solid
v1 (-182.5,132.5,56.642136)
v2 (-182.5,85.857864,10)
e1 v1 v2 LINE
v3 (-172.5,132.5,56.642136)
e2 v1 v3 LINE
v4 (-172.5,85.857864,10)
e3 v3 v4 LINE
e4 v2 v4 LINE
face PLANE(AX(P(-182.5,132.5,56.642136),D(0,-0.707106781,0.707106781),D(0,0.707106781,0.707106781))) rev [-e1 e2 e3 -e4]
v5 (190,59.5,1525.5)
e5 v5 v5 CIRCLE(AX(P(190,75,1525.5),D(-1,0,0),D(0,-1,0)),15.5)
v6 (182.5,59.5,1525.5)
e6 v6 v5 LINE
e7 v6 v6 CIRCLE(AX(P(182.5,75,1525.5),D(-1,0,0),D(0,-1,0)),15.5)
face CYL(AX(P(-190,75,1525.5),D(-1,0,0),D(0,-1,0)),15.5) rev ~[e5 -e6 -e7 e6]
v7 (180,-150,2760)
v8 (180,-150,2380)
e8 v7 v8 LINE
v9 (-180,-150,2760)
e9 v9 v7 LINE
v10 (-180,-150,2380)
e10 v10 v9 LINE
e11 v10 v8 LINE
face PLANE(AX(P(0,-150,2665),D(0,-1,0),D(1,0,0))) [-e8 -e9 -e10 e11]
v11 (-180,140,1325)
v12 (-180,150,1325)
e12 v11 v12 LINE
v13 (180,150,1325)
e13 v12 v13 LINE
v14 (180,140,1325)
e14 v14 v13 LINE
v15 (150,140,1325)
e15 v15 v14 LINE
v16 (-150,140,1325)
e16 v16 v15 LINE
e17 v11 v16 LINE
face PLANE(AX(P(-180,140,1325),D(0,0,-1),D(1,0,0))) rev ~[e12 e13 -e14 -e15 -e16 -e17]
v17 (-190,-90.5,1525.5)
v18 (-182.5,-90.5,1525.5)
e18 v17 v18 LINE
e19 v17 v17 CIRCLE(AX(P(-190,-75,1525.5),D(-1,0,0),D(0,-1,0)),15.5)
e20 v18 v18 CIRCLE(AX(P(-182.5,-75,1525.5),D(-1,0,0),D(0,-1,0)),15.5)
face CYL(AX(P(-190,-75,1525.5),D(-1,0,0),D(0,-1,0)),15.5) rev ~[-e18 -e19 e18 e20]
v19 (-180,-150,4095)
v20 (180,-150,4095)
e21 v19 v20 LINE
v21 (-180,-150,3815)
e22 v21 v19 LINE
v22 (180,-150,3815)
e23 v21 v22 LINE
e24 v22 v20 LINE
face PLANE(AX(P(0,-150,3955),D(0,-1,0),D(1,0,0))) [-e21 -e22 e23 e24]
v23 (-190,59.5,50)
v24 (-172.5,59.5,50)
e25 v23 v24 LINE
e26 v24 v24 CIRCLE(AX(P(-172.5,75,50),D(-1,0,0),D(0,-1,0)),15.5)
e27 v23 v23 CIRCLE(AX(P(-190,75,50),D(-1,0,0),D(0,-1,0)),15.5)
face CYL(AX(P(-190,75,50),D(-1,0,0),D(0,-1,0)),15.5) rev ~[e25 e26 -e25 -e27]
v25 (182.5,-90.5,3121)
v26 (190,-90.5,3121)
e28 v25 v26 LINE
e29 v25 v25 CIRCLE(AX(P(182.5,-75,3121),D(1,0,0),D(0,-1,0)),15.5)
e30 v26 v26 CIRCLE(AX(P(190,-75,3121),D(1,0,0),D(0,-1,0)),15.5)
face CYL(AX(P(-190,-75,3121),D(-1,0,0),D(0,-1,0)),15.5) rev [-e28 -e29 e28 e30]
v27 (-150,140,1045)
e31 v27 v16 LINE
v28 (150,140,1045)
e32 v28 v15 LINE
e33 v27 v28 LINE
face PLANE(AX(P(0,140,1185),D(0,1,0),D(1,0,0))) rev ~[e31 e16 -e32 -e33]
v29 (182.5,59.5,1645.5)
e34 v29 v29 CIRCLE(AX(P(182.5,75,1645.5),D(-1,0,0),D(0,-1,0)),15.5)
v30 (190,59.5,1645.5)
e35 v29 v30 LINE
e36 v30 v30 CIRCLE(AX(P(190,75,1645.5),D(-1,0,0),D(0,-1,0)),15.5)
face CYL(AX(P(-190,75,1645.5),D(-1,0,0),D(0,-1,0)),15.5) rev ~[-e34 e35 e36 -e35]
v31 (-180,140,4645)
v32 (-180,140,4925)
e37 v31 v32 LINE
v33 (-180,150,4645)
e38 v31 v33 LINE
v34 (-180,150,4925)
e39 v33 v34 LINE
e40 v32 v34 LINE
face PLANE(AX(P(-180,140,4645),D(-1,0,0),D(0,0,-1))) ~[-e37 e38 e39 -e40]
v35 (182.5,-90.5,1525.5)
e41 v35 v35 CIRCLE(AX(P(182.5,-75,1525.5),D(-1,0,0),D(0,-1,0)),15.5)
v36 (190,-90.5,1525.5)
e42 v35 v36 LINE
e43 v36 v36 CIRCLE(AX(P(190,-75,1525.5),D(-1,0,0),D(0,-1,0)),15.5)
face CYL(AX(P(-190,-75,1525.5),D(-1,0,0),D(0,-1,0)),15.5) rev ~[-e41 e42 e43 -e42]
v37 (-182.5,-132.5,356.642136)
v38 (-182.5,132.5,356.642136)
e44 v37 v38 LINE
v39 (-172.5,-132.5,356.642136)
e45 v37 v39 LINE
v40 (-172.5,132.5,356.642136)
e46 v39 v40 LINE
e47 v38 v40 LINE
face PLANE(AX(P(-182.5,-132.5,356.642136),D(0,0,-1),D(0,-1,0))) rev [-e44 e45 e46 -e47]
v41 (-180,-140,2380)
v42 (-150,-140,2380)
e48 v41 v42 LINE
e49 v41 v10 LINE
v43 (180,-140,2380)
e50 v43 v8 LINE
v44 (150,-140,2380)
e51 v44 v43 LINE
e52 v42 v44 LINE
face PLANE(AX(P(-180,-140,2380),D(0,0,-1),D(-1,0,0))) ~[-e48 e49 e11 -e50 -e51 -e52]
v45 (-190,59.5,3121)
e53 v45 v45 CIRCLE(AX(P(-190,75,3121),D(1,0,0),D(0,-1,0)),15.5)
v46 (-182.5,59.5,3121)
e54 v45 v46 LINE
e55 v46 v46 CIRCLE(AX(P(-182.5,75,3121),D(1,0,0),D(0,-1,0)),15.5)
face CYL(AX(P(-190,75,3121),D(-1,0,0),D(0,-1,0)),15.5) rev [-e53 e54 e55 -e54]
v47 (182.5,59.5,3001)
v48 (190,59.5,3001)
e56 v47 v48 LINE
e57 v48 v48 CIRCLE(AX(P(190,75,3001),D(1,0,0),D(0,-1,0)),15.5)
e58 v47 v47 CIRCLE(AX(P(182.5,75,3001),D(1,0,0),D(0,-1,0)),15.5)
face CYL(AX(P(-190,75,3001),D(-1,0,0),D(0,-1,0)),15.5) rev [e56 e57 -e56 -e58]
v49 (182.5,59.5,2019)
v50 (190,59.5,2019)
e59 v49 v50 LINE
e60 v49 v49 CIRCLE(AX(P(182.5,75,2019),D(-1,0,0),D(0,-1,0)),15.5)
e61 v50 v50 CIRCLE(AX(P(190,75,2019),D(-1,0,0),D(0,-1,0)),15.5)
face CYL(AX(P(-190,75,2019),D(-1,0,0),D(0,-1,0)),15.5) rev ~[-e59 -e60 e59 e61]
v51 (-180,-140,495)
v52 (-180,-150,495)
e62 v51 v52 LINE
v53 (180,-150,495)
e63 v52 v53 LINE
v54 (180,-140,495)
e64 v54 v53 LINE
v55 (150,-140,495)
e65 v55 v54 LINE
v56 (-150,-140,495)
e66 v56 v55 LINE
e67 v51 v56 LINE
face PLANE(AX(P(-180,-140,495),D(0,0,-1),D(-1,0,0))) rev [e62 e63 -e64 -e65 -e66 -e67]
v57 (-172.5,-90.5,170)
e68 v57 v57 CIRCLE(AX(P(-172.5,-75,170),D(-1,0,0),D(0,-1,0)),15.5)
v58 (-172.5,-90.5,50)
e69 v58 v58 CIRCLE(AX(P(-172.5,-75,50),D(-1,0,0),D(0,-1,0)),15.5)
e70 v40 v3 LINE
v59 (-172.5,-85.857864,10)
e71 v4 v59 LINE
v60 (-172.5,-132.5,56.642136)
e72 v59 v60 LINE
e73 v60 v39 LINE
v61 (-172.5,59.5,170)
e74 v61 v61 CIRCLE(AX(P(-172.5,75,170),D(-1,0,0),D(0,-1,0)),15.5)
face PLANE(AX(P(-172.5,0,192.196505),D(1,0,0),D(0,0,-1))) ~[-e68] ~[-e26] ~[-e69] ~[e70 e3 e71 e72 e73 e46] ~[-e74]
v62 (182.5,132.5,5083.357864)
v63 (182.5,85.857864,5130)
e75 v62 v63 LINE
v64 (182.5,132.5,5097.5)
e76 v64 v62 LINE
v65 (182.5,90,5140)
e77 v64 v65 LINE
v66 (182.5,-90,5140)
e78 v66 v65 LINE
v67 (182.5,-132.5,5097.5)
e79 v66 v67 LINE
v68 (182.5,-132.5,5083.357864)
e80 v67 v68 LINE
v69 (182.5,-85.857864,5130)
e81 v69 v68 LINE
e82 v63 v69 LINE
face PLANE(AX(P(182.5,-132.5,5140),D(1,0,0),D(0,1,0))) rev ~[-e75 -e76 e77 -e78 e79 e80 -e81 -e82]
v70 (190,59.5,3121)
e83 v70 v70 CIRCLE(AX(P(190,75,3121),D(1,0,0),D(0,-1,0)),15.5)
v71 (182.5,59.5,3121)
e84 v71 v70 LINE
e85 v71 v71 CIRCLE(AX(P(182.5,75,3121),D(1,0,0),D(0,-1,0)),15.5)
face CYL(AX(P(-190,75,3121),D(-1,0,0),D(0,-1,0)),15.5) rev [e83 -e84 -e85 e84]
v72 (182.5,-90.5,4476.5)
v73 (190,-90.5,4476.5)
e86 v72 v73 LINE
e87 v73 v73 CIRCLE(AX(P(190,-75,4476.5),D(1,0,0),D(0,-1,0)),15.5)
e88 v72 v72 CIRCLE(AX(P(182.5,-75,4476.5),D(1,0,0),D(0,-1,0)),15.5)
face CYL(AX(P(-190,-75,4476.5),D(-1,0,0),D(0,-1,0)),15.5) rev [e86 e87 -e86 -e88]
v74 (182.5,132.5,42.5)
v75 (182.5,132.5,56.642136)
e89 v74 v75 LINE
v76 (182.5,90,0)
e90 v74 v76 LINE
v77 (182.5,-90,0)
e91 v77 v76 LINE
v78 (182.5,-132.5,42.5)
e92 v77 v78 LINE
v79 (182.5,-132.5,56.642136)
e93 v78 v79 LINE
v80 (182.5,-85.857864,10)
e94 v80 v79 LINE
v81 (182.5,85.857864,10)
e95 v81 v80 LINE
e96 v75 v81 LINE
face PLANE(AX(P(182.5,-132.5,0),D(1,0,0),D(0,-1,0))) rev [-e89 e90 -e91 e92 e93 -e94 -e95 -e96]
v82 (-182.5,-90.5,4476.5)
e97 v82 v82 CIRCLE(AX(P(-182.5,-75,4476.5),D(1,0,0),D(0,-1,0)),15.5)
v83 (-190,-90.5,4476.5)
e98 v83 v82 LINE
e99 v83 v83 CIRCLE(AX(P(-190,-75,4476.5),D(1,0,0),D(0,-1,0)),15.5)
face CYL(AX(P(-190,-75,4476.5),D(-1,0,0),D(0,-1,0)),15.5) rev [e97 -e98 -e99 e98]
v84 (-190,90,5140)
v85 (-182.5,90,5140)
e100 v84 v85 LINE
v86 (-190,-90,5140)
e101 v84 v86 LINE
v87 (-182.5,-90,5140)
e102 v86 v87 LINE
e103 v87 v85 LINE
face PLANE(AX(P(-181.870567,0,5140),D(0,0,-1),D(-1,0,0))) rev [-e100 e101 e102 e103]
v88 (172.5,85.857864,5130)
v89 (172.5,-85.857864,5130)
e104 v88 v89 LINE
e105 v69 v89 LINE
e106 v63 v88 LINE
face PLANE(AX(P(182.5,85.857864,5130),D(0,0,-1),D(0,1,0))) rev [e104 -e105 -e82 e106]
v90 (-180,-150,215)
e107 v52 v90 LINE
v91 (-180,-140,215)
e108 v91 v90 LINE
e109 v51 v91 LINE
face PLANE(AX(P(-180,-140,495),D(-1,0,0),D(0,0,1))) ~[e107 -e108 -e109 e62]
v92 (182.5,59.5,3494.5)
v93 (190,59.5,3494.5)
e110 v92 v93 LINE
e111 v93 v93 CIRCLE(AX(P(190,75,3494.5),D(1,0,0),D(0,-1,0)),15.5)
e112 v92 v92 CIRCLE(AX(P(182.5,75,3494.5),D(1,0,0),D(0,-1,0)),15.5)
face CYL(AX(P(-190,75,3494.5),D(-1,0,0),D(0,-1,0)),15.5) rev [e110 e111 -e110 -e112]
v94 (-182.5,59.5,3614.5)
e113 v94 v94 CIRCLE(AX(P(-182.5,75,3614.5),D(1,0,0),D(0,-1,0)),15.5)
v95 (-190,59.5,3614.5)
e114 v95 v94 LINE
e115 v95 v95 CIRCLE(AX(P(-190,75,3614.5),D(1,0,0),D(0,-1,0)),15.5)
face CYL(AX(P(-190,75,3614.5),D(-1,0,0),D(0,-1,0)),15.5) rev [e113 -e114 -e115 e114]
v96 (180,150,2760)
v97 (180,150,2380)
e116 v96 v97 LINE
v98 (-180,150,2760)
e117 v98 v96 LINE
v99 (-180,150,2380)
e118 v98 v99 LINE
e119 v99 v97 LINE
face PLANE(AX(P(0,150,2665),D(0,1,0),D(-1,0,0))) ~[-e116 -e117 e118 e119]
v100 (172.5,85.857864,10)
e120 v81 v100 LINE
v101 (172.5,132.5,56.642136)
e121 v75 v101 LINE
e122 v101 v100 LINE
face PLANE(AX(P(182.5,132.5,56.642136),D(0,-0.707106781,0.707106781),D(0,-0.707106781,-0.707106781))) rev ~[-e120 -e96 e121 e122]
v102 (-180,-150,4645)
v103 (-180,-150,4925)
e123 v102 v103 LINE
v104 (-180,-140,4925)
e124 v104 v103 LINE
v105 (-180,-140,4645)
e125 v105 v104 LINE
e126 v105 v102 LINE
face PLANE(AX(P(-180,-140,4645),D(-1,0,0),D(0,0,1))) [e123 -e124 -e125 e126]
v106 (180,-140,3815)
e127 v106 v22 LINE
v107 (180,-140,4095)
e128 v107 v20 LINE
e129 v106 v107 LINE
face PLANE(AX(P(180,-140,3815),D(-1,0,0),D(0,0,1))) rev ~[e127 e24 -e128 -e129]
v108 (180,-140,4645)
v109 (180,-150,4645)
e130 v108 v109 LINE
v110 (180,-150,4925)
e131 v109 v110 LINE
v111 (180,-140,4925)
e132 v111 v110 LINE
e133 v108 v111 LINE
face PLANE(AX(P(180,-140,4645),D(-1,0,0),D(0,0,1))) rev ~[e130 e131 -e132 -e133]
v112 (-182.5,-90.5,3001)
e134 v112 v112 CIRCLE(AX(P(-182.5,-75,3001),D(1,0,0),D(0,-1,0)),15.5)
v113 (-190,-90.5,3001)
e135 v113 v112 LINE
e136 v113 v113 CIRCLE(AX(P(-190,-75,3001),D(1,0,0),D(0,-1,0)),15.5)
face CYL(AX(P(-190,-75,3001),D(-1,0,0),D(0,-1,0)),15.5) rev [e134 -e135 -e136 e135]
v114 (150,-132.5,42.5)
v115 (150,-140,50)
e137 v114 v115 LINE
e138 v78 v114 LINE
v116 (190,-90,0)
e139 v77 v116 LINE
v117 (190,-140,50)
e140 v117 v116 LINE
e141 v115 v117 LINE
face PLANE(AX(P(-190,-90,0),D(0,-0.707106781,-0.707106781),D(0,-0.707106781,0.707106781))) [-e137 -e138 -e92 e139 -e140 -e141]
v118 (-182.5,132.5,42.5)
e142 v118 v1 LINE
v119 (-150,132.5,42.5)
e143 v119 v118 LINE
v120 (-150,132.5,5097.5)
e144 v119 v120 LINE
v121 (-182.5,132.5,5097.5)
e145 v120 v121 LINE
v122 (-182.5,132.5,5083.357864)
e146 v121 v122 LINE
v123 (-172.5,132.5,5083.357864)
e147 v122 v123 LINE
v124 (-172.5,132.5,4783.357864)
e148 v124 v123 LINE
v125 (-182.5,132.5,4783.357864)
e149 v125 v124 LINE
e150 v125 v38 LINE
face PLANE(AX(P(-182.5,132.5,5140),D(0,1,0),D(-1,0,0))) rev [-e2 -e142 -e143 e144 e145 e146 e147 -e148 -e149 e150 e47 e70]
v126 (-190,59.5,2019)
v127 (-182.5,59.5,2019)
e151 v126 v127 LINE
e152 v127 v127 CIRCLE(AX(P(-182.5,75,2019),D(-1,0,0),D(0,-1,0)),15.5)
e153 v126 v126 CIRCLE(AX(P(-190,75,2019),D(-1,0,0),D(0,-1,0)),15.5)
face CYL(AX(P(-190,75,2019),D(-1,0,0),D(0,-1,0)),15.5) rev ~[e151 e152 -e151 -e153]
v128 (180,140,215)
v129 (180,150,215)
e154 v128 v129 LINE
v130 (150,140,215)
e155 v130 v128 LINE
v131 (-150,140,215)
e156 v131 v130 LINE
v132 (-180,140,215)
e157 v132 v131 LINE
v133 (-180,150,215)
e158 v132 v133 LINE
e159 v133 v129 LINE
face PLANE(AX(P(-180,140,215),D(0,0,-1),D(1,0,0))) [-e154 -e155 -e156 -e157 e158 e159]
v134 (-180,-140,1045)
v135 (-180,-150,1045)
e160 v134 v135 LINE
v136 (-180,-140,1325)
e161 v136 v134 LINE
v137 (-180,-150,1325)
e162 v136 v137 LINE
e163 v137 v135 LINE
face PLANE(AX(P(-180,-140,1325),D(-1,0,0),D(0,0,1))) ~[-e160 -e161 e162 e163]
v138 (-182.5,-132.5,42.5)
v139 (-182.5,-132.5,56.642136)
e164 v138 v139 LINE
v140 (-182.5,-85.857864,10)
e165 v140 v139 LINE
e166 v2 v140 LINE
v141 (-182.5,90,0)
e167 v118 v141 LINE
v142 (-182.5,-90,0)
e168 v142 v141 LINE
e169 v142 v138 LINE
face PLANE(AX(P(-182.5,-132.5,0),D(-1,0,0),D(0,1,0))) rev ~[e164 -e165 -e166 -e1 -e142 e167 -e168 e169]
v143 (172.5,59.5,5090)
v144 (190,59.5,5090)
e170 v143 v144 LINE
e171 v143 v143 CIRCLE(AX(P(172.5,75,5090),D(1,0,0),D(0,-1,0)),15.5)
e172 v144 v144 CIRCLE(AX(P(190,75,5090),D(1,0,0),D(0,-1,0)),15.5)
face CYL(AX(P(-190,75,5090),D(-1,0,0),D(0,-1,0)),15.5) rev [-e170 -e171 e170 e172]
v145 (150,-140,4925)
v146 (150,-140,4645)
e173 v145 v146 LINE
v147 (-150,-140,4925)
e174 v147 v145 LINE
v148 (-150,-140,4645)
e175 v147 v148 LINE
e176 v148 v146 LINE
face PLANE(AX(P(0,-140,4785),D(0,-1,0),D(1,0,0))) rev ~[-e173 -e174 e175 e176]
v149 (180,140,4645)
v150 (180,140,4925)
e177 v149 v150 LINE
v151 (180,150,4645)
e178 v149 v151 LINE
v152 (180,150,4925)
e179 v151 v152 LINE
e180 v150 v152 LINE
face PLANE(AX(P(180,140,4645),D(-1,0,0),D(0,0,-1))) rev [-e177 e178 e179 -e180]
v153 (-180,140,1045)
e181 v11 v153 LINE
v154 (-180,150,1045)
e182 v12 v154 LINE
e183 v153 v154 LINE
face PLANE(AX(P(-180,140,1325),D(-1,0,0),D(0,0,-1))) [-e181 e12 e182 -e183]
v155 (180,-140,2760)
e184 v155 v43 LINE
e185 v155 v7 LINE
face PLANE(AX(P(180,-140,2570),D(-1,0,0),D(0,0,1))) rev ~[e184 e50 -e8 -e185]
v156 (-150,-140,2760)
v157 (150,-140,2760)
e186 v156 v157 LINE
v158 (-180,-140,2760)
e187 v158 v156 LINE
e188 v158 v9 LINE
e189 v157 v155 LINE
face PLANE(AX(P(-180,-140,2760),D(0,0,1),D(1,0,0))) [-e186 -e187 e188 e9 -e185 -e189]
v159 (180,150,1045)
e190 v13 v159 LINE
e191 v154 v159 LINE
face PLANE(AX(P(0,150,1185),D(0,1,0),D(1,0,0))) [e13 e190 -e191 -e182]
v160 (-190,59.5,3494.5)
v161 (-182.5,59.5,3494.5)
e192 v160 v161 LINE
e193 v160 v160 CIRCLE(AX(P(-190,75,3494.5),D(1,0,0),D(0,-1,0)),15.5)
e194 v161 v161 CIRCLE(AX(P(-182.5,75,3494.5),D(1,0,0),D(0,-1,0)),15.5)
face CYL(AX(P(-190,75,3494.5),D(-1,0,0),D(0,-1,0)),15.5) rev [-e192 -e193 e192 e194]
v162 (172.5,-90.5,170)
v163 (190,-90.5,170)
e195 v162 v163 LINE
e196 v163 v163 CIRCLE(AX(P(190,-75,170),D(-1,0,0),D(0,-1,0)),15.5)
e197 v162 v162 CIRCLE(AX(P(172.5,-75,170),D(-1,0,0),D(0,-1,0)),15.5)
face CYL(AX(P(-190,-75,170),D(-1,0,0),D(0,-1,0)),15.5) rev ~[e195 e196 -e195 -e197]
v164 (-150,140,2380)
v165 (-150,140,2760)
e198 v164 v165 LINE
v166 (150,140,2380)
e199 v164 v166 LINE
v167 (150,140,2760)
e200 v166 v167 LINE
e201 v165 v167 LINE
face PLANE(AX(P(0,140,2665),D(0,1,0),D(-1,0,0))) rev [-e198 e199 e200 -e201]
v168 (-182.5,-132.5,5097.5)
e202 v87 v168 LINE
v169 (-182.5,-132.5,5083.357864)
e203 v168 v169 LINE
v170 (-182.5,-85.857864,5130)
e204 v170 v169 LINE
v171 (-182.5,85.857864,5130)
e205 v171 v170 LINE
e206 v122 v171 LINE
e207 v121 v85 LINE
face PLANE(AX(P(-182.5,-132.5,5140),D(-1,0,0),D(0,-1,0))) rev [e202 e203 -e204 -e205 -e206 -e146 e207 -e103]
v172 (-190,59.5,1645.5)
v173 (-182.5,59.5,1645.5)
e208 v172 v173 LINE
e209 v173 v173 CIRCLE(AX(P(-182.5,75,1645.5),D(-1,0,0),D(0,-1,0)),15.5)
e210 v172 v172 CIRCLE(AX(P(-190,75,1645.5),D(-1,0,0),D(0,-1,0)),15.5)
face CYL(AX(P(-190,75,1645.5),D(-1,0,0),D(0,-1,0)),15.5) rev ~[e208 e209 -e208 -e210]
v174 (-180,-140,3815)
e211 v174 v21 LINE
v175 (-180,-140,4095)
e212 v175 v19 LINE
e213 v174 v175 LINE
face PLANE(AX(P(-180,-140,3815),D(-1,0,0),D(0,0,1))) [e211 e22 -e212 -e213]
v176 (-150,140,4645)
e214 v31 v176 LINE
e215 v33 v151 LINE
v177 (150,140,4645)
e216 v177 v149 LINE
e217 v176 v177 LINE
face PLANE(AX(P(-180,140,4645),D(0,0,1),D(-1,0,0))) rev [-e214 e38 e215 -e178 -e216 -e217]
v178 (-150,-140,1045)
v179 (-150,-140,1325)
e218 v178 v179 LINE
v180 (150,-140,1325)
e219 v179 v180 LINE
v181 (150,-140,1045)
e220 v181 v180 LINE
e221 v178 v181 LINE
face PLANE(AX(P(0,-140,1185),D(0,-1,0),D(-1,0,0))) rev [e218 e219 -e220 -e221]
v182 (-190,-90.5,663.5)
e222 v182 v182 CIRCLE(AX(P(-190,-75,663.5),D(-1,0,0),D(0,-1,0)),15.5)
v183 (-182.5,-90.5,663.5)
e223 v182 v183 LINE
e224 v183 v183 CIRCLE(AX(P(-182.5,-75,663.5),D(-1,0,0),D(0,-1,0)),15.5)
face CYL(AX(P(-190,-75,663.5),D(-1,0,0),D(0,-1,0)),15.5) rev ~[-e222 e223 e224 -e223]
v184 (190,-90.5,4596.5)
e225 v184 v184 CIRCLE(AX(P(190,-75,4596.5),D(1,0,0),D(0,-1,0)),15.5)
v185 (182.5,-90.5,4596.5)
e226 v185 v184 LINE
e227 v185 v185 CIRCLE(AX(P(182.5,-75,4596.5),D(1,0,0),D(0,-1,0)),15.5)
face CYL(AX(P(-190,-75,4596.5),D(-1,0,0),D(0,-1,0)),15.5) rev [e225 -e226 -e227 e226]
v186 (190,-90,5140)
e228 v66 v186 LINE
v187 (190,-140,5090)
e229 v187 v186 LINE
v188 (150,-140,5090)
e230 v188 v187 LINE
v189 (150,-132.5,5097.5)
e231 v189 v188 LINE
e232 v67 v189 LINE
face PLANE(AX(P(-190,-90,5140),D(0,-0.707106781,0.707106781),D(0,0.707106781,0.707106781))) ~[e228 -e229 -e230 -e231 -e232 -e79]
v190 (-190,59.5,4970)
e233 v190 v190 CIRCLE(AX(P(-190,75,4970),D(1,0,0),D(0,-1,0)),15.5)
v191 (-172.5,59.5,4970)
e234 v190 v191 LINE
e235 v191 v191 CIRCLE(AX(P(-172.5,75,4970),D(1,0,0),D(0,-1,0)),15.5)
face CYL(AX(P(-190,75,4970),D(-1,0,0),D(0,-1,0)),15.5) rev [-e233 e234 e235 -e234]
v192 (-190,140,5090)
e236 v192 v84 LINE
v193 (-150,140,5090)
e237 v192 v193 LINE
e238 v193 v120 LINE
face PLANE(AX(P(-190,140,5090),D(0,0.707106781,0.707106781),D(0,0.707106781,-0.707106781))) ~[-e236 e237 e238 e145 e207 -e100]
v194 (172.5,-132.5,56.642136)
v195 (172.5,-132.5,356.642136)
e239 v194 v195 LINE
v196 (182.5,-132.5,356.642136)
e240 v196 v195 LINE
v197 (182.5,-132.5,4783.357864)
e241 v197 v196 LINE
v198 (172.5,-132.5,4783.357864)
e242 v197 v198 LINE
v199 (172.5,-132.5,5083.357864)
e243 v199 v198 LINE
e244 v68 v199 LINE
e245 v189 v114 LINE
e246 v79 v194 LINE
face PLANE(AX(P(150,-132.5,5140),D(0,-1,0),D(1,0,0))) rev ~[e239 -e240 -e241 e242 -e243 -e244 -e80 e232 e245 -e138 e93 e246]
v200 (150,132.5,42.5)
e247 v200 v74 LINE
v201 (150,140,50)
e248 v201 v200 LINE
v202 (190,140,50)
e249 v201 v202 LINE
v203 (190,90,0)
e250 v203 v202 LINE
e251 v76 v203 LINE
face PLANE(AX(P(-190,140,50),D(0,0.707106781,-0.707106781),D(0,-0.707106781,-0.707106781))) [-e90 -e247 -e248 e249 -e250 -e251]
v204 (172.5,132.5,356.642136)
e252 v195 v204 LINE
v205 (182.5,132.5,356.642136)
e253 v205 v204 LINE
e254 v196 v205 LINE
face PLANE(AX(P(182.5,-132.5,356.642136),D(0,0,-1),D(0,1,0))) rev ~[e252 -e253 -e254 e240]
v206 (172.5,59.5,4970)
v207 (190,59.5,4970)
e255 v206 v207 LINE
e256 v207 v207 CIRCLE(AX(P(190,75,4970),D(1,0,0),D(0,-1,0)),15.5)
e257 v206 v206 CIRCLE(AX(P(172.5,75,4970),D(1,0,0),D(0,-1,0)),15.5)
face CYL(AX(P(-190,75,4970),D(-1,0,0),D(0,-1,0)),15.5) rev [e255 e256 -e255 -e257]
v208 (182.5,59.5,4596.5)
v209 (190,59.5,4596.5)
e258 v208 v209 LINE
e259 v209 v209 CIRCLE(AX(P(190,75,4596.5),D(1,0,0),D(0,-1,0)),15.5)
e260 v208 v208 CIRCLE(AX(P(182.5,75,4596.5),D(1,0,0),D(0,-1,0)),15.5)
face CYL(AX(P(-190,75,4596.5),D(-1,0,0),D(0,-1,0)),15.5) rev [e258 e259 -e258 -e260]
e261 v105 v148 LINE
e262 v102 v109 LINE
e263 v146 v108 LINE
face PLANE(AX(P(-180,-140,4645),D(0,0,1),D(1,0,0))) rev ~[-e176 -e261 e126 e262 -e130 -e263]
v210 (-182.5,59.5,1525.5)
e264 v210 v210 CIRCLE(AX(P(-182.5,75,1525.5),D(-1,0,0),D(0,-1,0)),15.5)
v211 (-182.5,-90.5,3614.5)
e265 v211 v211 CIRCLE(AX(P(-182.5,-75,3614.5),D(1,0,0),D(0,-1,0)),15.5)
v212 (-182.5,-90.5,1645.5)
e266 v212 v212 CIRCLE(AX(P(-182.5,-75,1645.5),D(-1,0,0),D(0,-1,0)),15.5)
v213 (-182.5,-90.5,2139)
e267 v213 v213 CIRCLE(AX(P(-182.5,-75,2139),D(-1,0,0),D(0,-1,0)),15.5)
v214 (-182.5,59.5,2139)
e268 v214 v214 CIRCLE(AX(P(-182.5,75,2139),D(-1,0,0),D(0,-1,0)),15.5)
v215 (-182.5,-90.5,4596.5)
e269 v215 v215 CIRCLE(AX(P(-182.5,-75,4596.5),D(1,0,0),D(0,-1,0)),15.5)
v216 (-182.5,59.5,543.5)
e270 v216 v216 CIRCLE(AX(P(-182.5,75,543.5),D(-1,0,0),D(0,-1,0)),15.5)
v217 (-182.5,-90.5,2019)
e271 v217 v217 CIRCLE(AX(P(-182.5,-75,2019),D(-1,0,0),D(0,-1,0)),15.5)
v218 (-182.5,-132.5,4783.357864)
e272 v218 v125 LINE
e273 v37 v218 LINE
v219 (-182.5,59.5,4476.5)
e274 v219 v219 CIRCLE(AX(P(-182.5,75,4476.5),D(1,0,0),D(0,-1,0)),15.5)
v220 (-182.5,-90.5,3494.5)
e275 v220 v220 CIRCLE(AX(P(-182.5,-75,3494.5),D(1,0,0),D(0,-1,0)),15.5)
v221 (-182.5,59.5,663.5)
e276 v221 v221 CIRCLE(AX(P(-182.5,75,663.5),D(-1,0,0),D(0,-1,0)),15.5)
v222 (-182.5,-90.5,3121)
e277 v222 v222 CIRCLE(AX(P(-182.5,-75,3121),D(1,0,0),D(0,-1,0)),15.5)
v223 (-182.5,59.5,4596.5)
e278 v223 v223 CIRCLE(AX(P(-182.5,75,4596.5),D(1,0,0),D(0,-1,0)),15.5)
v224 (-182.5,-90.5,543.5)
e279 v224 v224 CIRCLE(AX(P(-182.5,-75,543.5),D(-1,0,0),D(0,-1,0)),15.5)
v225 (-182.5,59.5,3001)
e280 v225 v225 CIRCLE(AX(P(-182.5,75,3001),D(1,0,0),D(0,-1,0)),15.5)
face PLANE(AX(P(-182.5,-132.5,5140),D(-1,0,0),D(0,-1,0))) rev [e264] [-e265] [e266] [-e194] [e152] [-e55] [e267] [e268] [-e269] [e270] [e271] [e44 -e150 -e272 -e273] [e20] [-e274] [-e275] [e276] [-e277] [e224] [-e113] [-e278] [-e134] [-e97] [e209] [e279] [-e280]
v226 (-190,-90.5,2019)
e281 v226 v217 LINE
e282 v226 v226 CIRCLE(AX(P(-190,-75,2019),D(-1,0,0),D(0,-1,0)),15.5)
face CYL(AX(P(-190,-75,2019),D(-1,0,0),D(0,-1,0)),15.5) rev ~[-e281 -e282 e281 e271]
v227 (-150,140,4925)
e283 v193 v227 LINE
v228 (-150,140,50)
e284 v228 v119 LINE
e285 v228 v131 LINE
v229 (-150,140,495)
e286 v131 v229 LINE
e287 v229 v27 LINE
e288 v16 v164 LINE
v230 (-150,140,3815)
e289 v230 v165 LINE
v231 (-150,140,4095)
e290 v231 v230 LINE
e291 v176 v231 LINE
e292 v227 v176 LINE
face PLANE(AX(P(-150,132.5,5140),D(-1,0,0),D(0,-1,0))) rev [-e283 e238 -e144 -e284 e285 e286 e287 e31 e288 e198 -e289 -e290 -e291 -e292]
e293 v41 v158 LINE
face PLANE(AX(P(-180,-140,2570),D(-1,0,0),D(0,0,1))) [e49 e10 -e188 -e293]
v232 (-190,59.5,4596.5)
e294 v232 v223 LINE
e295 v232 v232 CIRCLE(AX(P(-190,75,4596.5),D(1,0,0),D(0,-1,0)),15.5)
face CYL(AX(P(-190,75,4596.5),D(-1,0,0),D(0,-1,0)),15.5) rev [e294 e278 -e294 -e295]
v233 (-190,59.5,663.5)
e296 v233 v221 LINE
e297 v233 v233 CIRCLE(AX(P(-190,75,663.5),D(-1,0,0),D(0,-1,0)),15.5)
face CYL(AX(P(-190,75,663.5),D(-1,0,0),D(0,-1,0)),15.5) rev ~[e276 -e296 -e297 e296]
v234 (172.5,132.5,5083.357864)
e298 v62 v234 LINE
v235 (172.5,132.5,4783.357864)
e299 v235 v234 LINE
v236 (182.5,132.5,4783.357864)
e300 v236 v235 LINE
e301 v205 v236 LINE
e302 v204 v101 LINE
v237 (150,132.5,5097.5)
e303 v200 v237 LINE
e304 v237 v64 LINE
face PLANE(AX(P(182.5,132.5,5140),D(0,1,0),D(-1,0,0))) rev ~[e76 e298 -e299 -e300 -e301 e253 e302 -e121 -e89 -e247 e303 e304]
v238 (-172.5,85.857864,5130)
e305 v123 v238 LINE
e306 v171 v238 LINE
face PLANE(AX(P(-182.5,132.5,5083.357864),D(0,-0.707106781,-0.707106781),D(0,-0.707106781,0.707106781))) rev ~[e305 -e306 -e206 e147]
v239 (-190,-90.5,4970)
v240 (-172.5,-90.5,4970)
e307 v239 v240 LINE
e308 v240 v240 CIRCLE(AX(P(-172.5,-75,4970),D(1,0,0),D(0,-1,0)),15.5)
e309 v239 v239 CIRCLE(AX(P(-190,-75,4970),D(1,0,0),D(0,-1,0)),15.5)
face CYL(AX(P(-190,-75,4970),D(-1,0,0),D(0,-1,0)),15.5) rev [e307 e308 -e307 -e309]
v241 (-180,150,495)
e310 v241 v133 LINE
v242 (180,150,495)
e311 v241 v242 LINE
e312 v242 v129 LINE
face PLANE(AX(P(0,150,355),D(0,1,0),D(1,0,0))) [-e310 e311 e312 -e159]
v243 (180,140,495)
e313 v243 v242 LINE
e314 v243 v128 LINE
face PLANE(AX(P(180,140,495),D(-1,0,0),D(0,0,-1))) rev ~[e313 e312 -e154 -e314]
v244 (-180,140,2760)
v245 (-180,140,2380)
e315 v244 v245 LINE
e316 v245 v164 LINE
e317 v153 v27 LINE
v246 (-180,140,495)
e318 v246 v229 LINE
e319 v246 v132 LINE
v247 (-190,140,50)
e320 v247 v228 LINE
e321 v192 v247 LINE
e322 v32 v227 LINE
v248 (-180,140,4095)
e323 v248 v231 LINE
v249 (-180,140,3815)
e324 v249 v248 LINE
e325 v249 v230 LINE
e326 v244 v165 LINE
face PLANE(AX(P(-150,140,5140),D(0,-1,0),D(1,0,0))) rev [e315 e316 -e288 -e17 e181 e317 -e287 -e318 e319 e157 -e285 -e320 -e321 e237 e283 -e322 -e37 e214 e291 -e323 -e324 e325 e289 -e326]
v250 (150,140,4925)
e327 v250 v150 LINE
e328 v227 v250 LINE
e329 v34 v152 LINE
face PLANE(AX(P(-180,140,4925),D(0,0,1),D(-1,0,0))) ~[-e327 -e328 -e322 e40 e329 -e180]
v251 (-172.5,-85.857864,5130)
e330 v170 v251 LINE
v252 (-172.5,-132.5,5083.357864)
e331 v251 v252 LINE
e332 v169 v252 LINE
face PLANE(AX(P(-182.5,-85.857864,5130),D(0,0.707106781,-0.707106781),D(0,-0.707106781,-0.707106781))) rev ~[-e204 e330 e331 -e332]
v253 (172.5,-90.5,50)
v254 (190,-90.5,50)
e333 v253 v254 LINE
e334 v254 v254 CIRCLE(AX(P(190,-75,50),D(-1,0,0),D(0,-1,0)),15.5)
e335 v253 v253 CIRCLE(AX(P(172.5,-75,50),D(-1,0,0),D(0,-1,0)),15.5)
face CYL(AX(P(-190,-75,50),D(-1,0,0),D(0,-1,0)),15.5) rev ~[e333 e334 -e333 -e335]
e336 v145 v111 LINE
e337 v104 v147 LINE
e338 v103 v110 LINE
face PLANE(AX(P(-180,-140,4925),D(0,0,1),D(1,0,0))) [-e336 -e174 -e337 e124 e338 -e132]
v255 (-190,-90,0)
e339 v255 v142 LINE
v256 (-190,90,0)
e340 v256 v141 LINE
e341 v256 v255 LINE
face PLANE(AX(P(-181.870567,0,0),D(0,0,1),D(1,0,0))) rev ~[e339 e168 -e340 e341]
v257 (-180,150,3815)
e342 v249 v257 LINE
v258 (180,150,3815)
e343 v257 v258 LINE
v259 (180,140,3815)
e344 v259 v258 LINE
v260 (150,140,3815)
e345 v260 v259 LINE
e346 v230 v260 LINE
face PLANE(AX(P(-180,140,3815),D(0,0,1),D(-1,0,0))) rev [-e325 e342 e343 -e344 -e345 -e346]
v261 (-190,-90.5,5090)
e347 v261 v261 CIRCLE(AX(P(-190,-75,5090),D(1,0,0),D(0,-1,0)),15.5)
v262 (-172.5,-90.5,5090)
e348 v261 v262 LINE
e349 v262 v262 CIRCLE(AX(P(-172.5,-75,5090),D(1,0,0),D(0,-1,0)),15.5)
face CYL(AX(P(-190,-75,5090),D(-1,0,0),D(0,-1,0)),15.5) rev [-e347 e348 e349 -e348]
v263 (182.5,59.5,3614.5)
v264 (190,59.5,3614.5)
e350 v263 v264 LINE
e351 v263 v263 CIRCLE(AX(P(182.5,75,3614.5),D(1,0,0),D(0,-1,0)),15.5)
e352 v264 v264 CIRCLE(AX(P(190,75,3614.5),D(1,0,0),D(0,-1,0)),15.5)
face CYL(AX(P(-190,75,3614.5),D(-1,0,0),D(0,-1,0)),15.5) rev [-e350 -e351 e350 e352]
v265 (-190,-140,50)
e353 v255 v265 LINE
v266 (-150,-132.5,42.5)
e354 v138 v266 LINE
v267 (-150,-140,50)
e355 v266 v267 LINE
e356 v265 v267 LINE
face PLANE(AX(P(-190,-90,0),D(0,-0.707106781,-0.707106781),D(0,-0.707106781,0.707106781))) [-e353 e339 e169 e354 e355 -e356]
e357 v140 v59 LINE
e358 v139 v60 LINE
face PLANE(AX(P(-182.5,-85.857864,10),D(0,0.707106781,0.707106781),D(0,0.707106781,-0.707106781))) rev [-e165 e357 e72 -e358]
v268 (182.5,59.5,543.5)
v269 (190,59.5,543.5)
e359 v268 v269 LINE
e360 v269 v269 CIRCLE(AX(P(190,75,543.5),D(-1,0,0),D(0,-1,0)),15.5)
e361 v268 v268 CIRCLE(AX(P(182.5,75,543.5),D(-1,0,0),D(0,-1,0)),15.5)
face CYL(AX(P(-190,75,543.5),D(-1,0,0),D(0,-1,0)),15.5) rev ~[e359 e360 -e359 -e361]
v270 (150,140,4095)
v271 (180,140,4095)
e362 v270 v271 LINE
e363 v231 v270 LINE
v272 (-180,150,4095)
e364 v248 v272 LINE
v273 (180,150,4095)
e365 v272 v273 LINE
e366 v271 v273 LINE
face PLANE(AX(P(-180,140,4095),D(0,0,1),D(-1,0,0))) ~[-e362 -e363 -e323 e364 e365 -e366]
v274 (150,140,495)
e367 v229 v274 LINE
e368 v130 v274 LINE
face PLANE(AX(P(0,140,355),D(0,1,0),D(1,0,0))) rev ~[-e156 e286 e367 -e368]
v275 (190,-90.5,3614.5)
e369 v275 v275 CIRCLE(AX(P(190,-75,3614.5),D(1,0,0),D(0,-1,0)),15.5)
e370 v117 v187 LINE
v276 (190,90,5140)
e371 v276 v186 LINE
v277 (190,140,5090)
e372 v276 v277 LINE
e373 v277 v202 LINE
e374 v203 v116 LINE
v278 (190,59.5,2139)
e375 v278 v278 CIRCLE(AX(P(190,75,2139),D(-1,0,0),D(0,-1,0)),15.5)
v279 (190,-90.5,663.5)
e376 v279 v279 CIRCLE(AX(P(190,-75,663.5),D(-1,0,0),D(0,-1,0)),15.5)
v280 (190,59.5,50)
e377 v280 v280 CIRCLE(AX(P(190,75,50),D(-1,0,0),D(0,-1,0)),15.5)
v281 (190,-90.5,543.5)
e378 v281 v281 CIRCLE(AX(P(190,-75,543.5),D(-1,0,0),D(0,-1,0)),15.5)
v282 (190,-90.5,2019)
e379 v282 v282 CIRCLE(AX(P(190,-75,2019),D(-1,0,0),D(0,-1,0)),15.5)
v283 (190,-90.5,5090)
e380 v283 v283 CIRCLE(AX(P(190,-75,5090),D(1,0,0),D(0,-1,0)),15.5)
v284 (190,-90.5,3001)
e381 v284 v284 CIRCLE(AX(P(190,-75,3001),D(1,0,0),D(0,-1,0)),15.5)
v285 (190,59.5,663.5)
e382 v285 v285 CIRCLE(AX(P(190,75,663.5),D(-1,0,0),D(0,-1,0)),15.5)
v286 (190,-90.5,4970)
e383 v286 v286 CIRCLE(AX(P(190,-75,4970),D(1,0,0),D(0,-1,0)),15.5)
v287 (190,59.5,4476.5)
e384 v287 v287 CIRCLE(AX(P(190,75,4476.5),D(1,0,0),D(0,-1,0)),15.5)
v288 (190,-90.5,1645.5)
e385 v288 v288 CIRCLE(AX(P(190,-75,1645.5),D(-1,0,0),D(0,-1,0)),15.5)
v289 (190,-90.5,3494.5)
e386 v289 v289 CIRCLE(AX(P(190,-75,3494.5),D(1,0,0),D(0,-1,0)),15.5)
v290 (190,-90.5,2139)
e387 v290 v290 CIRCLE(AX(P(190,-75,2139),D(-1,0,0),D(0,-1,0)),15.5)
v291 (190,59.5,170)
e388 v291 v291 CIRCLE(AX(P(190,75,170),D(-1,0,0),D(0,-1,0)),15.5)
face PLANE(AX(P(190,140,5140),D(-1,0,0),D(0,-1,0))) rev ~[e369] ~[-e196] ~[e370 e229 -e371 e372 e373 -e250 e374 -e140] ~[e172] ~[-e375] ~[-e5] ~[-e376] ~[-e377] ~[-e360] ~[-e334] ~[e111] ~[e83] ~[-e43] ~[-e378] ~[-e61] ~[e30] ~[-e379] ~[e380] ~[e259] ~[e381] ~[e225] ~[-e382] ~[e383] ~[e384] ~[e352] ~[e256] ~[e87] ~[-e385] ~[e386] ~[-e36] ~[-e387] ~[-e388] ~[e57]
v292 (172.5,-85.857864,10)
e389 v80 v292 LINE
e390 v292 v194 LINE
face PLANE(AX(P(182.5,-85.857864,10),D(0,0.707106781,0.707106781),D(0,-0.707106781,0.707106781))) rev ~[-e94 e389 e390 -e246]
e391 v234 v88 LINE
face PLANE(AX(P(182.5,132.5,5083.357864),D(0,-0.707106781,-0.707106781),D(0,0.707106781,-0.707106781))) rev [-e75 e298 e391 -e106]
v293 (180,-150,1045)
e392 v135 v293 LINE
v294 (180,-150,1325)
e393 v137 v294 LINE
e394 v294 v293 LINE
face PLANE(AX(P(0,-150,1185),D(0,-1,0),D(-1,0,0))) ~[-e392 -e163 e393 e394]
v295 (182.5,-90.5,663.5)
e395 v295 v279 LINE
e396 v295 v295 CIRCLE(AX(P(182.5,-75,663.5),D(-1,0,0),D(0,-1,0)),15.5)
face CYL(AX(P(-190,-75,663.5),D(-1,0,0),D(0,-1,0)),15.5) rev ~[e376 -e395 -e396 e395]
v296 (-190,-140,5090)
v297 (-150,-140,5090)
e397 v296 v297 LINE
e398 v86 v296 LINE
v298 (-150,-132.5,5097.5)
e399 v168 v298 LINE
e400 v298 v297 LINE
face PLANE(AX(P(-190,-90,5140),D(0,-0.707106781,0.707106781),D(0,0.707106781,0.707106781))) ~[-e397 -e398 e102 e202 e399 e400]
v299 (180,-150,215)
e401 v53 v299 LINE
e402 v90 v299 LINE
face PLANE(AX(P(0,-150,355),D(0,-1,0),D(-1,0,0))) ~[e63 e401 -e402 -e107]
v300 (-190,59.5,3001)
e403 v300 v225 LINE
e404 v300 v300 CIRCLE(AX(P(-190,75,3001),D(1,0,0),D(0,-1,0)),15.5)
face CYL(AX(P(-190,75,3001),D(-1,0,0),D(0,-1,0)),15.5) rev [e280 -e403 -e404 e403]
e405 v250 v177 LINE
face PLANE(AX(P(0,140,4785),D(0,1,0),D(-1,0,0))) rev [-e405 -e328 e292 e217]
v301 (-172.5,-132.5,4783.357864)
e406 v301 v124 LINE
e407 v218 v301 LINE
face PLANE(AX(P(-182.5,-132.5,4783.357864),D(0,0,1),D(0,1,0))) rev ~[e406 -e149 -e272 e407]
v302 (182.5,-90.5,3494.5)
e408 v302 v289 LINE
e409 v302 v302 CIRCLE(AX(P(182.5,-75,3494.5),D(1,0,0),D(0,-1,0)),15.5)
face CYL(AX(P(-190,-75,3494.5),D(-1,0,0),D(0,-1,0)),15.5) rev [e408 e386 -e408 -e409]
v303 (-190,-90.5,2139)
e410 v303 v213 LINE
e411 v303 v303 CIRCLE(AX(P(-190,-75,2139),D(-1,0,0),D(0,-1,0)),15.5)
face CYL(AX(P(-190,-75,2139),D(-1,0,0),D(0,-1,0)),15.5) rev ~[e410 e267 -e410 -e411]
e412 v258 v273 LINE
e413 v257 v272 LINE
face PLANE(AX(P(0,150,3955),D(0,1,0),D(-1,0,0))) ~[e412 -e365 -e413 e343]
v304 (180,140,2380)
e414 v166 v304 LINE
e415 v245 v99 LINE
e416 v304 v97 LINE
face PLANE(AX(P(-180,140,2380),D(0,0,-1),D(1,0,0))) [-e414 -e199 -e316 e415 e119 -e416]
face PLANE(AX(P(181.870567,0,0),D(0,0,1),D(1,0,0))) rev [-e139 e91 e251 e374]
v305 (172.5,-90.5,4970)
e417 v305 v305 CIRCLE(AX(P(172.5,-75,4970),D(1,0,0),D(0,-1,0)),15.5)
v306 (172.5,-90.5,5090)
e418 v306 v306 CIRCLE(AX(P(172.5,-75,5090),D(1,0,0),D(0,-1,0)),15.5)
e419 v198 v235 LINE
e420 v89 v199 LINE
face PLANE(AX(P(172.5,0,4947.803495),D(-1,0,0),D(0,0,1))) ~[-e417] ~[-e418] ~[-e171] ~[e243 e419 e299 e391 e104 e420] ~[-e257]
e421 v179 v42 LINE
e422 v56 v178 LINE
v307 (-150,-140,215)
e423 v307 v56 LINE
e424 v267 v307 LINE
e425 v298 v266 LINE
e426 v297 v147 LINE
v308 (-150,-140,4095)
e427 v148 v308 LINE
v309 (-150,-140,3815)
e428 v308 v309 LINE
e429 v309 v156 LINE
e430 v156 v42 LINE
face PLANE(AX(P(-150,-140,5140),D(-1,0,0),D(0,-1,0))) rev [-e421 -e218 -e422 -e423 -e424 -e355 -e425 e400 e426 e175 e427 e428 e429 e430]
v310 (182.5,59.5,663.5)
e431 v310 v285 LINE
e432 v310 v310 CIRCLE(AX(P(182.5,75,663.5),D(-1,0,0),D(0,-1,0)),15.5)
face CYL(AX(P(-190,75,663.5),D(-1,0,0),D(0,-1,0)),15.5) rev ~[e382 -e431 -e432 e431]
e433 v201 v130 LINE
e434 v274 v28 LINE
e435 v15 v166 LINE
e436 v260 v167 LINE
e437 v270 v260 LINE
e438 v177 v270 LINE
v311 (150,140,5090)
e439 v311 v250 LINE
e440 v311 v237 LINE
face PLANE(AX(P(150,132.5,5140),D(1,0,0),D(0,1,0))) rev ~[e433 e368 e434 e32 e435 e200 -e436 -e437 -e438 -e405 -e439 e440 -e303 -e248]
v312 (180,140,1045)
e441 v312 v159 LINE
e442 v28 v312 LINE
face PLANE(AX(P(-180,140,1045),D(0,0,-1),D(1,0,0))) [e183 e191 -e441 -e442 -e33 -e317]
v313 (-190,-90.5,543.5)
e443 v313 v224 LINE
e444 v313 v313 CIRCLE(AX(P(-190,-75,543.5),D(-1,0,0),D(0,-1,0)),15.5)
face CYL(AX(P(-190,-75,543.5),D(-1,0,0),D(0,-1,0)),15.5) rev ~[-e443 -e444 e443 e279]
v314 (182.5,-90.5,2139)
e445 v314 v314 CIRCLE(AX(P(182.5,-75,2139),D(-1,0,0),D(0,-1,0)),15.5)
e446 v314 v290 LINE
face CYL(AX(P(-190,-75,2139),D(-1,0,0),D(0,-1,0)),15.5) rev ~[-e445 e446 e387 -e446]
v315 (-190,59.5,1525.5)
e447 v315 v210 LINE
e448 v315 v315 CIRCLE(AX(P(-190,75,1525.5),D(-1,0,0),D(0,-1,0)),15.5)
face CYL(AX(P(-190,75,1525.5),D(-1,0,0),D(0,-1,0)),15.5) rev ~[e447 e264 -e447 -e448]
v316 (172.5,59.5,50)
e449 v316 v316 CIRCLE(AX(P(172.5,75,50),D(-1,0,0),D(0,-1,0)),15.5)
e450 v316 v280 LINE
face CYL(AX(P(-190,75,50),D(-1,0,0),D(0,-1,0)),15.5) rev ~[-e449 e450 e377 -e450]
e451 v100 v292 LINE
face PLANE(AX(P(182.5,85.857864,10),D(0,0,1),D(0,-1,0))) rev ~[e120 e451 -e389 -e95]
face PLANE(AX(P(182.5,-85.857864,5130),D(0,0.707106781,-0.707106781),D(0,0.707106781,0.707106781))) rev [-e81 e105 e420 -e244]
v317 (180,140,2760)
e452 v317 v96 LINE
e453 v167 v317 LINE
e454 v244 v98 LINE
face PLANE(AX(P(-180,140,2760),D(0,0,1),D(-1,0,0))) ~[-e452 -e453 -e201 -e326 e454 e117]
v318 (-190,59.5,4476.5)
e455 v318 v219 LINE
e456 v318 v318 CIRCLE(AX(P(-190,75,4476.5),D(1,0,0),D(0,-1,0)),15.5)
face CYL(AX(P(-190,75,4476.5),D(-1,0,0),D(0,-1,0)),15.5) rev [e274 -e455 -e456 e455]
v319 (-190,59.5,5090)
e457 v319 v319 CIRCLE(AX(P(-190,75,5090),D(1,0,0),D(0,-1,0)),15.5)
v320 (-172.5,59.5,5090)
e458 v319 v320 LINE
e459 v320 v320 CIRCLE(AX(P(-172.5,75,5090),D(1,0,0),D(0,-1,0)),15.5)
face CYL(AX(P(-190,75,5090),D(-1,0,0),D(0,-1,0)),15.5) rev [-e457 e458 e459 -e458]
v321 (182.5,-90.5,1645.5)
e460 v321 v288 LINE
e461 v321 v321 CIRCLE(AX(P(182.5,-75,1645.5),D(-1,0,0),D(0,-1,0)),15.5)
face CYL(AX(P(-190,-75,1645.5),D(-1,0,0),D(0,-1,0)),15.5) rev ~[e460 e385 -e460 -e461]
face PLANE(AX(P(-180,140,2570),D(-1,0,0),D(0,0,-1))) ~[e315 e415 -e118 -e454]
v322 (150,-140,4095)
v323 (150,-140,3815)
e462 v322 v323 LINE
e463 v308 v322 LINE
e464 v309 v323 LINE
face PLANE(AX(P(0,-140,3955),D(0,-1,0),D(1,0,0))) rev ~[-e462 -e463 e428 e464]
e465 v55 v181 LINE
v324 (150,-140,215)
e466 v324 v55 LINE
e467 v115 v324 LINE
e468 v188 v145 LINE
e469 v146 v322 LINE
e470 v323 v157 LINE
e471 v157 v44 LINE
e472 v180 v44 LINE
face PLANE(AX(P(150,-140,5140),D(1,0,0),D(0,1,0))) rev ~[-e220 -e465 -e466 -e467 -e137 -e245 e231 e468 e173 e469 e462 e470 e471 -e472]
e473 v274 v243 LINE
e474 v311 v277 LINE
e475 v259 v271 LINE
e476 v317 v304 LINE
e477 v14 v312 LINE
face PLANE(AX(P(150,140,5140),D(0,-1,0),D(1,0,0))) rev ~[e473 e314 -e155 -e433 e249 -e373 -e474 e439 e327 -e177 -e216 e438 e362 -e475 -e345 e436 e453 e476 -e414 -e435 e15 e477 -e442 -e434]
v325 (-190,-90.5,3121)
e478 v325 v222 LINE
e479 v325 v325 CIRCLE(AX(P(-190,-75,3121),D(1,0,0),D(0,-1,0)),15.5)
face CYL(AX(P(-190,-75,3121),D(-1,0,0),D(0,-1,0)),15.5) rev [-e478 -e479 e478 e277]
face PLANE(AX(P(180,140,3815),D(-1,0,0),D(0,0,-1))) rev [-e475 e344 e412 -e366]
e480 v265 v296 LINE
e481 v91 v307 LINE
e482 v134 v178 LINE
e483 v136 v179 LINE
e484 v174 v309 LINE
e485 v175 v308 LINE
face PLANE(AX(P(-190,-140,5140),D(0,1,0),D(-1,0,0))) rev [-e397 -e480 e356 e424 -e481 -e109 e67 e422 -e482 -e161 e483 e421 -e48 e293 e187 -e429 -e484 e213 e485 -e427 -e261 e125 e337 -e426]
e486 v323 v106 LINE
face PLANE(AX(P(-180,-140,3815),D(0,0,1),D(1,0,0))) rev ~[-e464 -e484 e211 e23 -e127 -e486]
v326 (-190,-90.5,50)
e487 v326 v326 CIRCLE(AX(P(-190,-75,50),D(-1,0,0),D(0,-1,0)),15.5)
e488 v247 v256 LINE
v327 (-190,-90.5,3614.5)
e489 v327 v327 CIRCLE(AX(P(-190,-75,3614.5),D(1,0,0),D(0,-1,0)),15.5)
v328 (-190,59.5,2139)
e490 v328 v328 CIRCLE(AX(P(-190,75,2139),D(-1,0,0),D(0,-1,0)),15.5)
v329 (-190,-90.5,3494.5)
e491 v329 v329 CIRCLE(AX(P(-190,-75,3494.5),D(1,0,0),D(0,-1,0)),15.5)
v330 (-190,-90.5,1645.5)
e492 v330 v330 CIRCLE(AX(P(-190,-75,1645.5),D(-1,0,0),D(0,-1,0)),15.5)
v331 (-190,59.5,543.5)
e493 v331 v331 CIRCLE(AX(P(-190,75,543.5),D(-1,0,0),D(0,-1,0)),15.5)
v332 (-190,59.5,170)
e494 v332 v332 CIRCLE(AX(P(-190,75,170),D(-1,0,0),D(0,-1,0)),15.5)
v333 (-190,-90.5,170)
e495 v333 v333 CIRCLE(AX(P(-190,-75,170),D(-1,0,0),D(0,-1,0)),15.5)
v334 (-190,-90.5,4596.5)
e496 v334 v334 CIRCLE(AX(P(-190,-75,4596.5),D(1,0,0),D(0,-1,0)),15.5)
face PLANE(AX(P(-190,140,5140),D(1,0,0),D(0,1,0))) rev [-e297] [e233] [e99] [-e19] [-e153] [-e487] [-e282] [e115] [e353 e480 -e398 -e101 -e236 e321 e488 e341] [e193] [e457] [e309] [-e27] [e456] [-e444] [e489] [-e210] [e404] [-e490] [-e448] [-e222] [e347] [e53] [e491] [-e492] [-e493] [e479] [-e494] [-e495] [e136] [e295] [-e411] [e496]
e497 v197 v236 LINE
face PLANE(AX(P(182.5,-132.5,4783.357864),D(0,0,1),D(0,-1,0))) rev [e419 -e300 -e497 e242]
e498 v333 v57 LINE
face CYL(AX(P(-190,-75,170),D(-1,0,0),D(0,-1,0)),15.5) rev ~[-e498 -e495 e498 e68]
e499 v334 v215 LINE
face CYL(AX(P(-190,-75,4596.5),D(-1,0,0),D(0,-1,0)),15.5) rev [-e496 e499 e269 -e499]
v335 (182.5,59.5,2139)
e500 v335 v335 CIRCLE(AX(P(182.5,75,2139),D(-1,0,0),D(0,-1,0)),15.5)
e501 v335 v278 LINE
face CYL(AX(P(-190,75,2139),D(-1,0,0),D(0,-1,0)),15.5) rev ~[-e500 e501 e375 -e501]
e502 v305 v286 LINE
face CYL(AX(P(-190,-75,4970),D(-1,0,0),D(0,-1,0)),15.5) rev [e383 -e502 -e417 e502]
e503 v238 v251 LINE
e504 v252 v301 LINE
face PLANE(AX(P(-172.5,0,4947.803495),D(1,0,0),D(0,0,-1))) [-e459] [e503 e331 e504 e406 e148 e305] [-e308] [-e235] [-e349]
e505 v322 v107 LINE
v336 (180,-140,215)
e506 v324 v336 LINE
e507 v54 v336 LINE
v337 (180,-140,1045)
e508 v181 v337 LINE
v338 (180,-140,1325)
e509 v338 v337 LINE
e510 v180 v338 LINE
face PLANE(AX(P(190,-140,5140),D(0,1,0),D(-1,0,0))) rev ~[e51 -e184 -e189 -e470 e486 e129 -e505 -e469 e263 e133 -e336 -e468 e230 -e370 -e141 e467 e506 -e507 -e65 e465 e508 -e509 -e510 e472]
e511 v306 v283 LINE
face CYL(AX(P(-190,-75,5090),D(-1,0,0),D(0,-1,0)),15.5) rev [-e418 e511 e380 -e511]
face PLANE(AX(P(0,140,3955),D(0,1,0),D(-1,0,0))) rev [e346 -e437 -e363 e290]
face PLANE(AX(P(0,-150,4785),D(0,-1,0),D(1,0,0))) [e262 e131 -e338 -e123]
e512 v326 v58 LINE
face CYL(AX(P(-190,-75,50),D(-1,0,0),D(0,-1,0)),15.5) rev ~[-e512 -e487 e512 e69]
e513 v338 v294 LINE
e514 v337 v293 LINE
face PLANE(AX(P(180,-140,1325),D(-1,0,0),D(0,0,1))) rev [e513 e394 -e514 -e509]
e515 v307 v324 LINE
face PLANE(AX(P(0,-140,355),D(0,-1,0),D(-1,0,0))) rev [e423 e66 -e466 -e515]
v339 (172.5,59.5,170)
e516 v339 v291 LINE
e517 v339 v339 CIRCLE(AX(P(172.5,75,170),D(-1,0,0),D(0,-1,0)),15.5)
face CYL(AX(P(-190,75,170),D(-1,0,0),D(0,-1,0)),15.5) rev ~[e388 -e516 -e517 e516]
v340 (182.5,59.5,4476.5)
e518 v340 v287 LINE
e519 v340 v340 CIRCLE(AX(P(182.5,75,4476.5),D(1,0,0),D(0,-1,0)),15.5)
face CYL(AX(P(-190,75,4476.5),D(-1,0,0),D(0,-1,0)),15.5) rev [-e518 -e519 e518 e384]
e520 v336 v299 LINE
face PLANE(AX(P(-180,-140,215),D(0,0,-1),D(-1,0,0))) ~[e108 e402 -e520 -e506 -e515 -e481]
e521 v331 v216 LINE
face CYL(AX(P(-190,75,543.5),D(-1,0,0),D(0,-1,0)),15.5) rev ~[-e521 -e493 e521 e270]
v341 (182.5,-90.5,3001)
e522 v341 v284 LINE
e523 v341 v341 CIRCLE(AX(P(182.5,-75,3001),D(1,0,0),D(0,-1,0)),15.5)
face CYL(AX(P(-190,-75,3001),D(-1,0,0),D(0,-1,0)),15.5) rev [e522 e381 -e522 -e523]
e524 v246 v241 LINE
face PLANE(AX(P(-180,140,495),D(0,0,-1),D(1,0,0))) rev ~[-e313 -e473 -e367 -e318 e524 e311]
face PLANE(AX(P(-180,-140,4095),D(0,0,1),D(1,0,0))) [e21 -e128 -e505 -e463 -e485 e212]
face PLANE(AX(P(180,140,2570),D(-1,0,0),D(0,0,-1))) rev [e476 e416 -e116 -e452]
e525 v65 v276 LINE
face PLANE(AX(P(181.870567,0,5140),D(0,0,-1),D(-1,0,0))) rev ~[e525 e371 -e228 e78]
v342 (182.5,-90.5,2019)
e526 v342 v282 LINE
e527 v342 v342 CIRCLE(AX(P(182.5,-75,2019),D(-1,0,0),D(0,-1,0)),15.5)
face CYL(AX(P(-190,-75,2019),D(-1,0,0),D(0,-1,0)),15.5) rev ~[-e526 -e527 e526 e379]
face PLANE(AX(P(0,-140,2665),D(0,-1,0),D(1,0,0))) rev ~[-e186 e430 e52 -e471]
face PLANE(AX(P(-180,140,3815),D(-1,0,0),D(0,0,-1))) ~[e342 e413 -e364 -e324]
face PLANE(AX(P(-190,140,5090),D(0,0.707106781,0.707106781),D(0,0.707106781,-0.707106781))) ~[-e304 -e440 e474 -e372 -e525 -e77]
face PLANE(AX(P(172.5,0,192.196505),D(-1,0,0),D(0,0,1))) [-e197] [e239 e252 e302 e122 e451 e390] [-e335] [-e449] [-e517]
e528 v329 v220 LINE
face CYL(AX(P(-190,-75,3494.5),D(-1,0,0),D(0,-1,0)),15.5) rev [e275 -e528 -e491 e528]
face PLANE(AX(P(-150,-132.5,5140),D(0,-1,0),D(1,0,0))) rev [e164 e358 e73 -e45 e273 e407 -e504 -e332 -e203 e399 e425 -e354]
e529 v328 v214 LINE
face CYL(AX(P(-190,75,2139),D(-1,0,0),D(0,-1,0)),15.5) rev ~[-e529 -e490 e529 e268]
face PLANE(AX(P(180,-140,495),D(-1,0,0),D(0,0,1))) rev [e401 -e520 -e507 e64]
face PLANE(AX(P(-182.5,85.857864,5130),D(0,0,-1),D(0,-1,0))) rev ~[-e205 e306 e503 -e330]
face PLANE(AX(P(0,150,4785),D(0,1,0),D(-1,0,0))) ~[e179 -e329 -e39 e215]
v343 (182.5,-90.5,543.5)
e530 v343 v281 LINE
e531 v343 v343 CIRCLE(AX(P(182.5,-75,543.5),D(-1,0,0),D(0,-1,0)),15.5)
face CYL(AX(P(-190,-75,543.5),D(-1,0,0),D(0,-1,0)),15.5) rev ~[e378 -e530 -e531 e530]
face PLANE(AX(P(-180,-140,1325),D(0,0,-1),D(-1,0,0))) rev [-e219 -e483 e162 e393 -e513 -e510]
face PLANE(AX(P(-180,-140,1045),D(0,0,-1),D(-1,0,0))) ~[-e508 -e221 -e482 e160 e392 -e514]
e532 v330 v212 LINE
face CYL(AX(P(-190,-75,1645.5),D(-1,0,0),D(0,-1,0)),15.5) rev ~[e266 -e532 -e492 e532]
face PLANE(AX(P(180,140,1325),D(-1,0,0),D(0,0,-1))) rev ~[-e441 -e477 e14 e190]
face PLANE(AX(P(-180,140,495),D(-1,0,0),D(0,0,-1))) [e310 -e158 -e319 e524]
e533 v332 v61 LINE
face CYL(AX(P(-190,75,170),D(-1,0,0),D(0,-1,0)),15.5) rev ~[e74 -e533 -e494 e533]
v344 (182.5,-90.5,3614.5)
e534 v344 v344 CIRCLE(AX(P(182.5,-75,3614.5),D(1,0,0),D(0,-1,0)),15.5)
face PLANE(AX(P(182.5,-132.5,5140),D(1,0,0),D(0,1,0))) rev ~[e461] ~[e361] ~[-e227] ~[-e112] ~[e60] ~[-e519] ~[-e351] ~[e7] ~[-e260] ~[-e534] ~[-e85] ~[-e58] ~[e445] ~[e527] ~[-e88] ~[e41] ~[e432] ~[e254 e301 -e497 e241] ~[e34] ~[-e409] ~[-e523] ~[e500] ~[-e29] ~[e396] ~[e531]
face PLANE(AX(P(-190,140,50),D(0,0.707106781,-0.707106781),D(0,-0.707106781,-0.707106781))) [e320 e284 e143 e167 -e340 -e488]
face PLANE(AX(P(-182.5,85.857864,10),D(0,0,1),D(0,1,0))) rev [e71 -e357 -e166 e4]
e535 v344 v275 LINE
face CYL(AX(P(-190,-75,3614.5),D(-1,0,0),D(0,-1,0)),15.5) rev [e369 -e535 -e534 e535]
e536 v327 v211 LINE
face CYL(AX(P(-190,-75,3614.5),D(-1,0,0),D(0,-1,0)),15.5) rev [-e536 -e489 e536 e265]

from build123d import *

# Parameters (mm, degrees)
EXTRUDE_1_DEPTH     = 2570
SKETCH_2_W          = 360
SKETCH_2_H          = 280
SKETCH_2_H_2        = 190
EXTRUDE_2_DEPTH     = 10
SKETCH_5_R          = 15.5
CUT_EXTRUDE_3_DEPTH = 2603.268241362
EXTRUDE_8_DEPTH     = 10
SKETCH_5_6_R        = 15.5
CUT_EXTRUDE_9_DEPTH = 2603.268241362


with BuildPart() as part:
    # 草图1 → 拉伸1 (new body)
    with BuildSketch(Plane.XY):
        Polygon((-150, 140), (-190, 140), (-190, -140), (-150, -140), (-150, -132.5), (-182.5, -132.5), (-182.5, 132.5), (-150, 132.5), align=None)
    extrude(amount=EXTRUDE_1_DEPTH)

    # 草图2 → 拉伸2 (add)
    with BuildSketch(Plane(origin=(0, 140, 0), x_dir=(1, 0, 0), z_dir=(0, 1, 0))):
        with Locations((0, -355)):
            Rectangle(SKETCH_2_W, SKETCH_2_H)
        with Locations((0, -1185)):
            Rectangle(SKETCH_2_W, SKETCH_2_H)
        with Locations((0, -2475)):
            Rectangle(SKETCH_2_W, SKETCH_2_H_2)
    extrude(amount=EXTRUDE_2_DEPTH)

    # 镜向2: part across plane


with BuildPart() as part_1:
    add(part.part)
    add(part.part.mirror(Plane(origin=(0, 0, 0), x_dir=(0, 0, 1), z_dir=(1, 0, 0))))

    # 镜向3: part across plane


with BuildPart() as part_2:
    add(part_1.part)
    add(part_1.part.mirror(Plane.ZX))

    # 草图5 → 拉伸3 (cut, through all)
    with BuildSketch(Plane.ZY.offset(190)):
        with Locations((50, 75)):
            Circle(SKETCH_5_R)
        with Locations((170, 75)):
            Circle(SKETCH_5_R)
        with Locations((50, -75)):
            Circle(SKETCH_5_R)
        with Locations((170, -75)):
            Circle(SKETCH_5_R)
        with Locations((543.5, 75)):
            Circle(SKETCH_5_R)
        with Locations((663.5, 75)):
            Circle(SKETCH_5_R)
        with Locations((663.5, -75)):
            Circle(SKETCH_5_R)
        with Locations((543.5, -75)):
            Circle(SKETCH_5_R)
        with Locations((1645.5, 75)):
            Circle(SKETCH_5_R)
        with Locations((1525.5, 75)):
            Circle(SKETCH_5_R)
        with Locations((1525.5, -75)):
            Circle(SKETCH_5_R)
        with Locations((1645.5, -75)):
            Circle(SKETCH_5_R)
        with Locations((2139, 75)):
            Circle(SKETCH_5_R)
        with Locations((2019, 75)):
            Circle(SKETCH_5_R)
        with Locations((2019, -75)):
            Circle(SKETCH_5_R)
        with Locations((2139, -75)):
            Circle(SKETCH_5_R)
        Polygon((50, 140), (0, 90), (0, 140), align=None)
        Polygon((0, -90), (50, -140), (0, -140), align=None)
    extrude(amount=-CUT_EXTRUDE_3_DEPTH, mode=Mode.SUBTRACT)

    # 草图10 → 拉伸8 (add)
    with BuildSketch(Plane.ZY.offset(-182.5)):
        Polygon((10, 85.857864376), (10, -85.857864376), (56.642135624, -132.5), (356.642135624, -132.5), (356.642135624, 132.5), (56.642135624, 132.5), align=None)
    extrude_8 = extrude(amount=EXTRUDE_8_DEPTH)

    # 镜向6: 拉伸8 across plane
    add(extrude_8.mirror(Plane(origin=(0, 0, 0), x_dir=(0, 0, 1), z_dir=(1, 0, 0))))

    # 草图5<6> → 拉伸9 (cut, through all)
    with BuildSketch(Plane.ZY.offset(190)):
        with Locations((50, 75)):
            Circle(SKETCH_5_6_R)
        with Locations((170, 75)):
            Circle(SKETCH_5_6_R)
        with Locations((50, -75)):
            Circle(SKETCH_5_6_R)
        with Locations((170, -75)):
            Circle(SKETCH_5_6_R)
        with Locations((543.5, 75)):
            Circle(SKETCH_5_6_R)
        with Locations((663.5, 75)):
            Circle(SKETCH_5_6_R)
        with Locations((663.5, -75)):
            Circle(SKETCH_5_6_R)
        with Locations((543.5, -75)):
            Circle(SKETCH_5_6_R)
        with Locations((1645.5, 75)):
            Circle(SKETCH_5_6_R)
        with Locations((1525.5, 75)):
            Circle(SKETCH_5_6_R)
        with Locations((1525.5, -75)):
            Circle(SKETCH_5_6_R)
        with Locations((1645.5, -75)):
            Circle(SKETCH_5_6_R)
        with Locations((2139, 75)):
            Circle(SKETCH_5_6_R)
        with Locations((2019, 75)):
            Circle(SKETCH_5_6_R)
        with Locations((2019, -75)):
            Circle(SKETCH_5_6_R)
        with Locations((2139, -75)):
            Circle(SKETCH_5_6_R)
        Polygon((50, 140), (0, 90), (0, 140), align=None)
        Polygon((0, -90), (50, -140), (0, -140), align=None)
    extrude(amount=-CUT_EXTRUDE_9_DEPTH, mode=Mode.SUBTRACT)

    # 镜向7: part across plane


with BuildPart() as part_3:
    add(part_2.part)
    add(part_2.part.mirror(Plane.XY.offset(2570)))


solid = part_3.part
